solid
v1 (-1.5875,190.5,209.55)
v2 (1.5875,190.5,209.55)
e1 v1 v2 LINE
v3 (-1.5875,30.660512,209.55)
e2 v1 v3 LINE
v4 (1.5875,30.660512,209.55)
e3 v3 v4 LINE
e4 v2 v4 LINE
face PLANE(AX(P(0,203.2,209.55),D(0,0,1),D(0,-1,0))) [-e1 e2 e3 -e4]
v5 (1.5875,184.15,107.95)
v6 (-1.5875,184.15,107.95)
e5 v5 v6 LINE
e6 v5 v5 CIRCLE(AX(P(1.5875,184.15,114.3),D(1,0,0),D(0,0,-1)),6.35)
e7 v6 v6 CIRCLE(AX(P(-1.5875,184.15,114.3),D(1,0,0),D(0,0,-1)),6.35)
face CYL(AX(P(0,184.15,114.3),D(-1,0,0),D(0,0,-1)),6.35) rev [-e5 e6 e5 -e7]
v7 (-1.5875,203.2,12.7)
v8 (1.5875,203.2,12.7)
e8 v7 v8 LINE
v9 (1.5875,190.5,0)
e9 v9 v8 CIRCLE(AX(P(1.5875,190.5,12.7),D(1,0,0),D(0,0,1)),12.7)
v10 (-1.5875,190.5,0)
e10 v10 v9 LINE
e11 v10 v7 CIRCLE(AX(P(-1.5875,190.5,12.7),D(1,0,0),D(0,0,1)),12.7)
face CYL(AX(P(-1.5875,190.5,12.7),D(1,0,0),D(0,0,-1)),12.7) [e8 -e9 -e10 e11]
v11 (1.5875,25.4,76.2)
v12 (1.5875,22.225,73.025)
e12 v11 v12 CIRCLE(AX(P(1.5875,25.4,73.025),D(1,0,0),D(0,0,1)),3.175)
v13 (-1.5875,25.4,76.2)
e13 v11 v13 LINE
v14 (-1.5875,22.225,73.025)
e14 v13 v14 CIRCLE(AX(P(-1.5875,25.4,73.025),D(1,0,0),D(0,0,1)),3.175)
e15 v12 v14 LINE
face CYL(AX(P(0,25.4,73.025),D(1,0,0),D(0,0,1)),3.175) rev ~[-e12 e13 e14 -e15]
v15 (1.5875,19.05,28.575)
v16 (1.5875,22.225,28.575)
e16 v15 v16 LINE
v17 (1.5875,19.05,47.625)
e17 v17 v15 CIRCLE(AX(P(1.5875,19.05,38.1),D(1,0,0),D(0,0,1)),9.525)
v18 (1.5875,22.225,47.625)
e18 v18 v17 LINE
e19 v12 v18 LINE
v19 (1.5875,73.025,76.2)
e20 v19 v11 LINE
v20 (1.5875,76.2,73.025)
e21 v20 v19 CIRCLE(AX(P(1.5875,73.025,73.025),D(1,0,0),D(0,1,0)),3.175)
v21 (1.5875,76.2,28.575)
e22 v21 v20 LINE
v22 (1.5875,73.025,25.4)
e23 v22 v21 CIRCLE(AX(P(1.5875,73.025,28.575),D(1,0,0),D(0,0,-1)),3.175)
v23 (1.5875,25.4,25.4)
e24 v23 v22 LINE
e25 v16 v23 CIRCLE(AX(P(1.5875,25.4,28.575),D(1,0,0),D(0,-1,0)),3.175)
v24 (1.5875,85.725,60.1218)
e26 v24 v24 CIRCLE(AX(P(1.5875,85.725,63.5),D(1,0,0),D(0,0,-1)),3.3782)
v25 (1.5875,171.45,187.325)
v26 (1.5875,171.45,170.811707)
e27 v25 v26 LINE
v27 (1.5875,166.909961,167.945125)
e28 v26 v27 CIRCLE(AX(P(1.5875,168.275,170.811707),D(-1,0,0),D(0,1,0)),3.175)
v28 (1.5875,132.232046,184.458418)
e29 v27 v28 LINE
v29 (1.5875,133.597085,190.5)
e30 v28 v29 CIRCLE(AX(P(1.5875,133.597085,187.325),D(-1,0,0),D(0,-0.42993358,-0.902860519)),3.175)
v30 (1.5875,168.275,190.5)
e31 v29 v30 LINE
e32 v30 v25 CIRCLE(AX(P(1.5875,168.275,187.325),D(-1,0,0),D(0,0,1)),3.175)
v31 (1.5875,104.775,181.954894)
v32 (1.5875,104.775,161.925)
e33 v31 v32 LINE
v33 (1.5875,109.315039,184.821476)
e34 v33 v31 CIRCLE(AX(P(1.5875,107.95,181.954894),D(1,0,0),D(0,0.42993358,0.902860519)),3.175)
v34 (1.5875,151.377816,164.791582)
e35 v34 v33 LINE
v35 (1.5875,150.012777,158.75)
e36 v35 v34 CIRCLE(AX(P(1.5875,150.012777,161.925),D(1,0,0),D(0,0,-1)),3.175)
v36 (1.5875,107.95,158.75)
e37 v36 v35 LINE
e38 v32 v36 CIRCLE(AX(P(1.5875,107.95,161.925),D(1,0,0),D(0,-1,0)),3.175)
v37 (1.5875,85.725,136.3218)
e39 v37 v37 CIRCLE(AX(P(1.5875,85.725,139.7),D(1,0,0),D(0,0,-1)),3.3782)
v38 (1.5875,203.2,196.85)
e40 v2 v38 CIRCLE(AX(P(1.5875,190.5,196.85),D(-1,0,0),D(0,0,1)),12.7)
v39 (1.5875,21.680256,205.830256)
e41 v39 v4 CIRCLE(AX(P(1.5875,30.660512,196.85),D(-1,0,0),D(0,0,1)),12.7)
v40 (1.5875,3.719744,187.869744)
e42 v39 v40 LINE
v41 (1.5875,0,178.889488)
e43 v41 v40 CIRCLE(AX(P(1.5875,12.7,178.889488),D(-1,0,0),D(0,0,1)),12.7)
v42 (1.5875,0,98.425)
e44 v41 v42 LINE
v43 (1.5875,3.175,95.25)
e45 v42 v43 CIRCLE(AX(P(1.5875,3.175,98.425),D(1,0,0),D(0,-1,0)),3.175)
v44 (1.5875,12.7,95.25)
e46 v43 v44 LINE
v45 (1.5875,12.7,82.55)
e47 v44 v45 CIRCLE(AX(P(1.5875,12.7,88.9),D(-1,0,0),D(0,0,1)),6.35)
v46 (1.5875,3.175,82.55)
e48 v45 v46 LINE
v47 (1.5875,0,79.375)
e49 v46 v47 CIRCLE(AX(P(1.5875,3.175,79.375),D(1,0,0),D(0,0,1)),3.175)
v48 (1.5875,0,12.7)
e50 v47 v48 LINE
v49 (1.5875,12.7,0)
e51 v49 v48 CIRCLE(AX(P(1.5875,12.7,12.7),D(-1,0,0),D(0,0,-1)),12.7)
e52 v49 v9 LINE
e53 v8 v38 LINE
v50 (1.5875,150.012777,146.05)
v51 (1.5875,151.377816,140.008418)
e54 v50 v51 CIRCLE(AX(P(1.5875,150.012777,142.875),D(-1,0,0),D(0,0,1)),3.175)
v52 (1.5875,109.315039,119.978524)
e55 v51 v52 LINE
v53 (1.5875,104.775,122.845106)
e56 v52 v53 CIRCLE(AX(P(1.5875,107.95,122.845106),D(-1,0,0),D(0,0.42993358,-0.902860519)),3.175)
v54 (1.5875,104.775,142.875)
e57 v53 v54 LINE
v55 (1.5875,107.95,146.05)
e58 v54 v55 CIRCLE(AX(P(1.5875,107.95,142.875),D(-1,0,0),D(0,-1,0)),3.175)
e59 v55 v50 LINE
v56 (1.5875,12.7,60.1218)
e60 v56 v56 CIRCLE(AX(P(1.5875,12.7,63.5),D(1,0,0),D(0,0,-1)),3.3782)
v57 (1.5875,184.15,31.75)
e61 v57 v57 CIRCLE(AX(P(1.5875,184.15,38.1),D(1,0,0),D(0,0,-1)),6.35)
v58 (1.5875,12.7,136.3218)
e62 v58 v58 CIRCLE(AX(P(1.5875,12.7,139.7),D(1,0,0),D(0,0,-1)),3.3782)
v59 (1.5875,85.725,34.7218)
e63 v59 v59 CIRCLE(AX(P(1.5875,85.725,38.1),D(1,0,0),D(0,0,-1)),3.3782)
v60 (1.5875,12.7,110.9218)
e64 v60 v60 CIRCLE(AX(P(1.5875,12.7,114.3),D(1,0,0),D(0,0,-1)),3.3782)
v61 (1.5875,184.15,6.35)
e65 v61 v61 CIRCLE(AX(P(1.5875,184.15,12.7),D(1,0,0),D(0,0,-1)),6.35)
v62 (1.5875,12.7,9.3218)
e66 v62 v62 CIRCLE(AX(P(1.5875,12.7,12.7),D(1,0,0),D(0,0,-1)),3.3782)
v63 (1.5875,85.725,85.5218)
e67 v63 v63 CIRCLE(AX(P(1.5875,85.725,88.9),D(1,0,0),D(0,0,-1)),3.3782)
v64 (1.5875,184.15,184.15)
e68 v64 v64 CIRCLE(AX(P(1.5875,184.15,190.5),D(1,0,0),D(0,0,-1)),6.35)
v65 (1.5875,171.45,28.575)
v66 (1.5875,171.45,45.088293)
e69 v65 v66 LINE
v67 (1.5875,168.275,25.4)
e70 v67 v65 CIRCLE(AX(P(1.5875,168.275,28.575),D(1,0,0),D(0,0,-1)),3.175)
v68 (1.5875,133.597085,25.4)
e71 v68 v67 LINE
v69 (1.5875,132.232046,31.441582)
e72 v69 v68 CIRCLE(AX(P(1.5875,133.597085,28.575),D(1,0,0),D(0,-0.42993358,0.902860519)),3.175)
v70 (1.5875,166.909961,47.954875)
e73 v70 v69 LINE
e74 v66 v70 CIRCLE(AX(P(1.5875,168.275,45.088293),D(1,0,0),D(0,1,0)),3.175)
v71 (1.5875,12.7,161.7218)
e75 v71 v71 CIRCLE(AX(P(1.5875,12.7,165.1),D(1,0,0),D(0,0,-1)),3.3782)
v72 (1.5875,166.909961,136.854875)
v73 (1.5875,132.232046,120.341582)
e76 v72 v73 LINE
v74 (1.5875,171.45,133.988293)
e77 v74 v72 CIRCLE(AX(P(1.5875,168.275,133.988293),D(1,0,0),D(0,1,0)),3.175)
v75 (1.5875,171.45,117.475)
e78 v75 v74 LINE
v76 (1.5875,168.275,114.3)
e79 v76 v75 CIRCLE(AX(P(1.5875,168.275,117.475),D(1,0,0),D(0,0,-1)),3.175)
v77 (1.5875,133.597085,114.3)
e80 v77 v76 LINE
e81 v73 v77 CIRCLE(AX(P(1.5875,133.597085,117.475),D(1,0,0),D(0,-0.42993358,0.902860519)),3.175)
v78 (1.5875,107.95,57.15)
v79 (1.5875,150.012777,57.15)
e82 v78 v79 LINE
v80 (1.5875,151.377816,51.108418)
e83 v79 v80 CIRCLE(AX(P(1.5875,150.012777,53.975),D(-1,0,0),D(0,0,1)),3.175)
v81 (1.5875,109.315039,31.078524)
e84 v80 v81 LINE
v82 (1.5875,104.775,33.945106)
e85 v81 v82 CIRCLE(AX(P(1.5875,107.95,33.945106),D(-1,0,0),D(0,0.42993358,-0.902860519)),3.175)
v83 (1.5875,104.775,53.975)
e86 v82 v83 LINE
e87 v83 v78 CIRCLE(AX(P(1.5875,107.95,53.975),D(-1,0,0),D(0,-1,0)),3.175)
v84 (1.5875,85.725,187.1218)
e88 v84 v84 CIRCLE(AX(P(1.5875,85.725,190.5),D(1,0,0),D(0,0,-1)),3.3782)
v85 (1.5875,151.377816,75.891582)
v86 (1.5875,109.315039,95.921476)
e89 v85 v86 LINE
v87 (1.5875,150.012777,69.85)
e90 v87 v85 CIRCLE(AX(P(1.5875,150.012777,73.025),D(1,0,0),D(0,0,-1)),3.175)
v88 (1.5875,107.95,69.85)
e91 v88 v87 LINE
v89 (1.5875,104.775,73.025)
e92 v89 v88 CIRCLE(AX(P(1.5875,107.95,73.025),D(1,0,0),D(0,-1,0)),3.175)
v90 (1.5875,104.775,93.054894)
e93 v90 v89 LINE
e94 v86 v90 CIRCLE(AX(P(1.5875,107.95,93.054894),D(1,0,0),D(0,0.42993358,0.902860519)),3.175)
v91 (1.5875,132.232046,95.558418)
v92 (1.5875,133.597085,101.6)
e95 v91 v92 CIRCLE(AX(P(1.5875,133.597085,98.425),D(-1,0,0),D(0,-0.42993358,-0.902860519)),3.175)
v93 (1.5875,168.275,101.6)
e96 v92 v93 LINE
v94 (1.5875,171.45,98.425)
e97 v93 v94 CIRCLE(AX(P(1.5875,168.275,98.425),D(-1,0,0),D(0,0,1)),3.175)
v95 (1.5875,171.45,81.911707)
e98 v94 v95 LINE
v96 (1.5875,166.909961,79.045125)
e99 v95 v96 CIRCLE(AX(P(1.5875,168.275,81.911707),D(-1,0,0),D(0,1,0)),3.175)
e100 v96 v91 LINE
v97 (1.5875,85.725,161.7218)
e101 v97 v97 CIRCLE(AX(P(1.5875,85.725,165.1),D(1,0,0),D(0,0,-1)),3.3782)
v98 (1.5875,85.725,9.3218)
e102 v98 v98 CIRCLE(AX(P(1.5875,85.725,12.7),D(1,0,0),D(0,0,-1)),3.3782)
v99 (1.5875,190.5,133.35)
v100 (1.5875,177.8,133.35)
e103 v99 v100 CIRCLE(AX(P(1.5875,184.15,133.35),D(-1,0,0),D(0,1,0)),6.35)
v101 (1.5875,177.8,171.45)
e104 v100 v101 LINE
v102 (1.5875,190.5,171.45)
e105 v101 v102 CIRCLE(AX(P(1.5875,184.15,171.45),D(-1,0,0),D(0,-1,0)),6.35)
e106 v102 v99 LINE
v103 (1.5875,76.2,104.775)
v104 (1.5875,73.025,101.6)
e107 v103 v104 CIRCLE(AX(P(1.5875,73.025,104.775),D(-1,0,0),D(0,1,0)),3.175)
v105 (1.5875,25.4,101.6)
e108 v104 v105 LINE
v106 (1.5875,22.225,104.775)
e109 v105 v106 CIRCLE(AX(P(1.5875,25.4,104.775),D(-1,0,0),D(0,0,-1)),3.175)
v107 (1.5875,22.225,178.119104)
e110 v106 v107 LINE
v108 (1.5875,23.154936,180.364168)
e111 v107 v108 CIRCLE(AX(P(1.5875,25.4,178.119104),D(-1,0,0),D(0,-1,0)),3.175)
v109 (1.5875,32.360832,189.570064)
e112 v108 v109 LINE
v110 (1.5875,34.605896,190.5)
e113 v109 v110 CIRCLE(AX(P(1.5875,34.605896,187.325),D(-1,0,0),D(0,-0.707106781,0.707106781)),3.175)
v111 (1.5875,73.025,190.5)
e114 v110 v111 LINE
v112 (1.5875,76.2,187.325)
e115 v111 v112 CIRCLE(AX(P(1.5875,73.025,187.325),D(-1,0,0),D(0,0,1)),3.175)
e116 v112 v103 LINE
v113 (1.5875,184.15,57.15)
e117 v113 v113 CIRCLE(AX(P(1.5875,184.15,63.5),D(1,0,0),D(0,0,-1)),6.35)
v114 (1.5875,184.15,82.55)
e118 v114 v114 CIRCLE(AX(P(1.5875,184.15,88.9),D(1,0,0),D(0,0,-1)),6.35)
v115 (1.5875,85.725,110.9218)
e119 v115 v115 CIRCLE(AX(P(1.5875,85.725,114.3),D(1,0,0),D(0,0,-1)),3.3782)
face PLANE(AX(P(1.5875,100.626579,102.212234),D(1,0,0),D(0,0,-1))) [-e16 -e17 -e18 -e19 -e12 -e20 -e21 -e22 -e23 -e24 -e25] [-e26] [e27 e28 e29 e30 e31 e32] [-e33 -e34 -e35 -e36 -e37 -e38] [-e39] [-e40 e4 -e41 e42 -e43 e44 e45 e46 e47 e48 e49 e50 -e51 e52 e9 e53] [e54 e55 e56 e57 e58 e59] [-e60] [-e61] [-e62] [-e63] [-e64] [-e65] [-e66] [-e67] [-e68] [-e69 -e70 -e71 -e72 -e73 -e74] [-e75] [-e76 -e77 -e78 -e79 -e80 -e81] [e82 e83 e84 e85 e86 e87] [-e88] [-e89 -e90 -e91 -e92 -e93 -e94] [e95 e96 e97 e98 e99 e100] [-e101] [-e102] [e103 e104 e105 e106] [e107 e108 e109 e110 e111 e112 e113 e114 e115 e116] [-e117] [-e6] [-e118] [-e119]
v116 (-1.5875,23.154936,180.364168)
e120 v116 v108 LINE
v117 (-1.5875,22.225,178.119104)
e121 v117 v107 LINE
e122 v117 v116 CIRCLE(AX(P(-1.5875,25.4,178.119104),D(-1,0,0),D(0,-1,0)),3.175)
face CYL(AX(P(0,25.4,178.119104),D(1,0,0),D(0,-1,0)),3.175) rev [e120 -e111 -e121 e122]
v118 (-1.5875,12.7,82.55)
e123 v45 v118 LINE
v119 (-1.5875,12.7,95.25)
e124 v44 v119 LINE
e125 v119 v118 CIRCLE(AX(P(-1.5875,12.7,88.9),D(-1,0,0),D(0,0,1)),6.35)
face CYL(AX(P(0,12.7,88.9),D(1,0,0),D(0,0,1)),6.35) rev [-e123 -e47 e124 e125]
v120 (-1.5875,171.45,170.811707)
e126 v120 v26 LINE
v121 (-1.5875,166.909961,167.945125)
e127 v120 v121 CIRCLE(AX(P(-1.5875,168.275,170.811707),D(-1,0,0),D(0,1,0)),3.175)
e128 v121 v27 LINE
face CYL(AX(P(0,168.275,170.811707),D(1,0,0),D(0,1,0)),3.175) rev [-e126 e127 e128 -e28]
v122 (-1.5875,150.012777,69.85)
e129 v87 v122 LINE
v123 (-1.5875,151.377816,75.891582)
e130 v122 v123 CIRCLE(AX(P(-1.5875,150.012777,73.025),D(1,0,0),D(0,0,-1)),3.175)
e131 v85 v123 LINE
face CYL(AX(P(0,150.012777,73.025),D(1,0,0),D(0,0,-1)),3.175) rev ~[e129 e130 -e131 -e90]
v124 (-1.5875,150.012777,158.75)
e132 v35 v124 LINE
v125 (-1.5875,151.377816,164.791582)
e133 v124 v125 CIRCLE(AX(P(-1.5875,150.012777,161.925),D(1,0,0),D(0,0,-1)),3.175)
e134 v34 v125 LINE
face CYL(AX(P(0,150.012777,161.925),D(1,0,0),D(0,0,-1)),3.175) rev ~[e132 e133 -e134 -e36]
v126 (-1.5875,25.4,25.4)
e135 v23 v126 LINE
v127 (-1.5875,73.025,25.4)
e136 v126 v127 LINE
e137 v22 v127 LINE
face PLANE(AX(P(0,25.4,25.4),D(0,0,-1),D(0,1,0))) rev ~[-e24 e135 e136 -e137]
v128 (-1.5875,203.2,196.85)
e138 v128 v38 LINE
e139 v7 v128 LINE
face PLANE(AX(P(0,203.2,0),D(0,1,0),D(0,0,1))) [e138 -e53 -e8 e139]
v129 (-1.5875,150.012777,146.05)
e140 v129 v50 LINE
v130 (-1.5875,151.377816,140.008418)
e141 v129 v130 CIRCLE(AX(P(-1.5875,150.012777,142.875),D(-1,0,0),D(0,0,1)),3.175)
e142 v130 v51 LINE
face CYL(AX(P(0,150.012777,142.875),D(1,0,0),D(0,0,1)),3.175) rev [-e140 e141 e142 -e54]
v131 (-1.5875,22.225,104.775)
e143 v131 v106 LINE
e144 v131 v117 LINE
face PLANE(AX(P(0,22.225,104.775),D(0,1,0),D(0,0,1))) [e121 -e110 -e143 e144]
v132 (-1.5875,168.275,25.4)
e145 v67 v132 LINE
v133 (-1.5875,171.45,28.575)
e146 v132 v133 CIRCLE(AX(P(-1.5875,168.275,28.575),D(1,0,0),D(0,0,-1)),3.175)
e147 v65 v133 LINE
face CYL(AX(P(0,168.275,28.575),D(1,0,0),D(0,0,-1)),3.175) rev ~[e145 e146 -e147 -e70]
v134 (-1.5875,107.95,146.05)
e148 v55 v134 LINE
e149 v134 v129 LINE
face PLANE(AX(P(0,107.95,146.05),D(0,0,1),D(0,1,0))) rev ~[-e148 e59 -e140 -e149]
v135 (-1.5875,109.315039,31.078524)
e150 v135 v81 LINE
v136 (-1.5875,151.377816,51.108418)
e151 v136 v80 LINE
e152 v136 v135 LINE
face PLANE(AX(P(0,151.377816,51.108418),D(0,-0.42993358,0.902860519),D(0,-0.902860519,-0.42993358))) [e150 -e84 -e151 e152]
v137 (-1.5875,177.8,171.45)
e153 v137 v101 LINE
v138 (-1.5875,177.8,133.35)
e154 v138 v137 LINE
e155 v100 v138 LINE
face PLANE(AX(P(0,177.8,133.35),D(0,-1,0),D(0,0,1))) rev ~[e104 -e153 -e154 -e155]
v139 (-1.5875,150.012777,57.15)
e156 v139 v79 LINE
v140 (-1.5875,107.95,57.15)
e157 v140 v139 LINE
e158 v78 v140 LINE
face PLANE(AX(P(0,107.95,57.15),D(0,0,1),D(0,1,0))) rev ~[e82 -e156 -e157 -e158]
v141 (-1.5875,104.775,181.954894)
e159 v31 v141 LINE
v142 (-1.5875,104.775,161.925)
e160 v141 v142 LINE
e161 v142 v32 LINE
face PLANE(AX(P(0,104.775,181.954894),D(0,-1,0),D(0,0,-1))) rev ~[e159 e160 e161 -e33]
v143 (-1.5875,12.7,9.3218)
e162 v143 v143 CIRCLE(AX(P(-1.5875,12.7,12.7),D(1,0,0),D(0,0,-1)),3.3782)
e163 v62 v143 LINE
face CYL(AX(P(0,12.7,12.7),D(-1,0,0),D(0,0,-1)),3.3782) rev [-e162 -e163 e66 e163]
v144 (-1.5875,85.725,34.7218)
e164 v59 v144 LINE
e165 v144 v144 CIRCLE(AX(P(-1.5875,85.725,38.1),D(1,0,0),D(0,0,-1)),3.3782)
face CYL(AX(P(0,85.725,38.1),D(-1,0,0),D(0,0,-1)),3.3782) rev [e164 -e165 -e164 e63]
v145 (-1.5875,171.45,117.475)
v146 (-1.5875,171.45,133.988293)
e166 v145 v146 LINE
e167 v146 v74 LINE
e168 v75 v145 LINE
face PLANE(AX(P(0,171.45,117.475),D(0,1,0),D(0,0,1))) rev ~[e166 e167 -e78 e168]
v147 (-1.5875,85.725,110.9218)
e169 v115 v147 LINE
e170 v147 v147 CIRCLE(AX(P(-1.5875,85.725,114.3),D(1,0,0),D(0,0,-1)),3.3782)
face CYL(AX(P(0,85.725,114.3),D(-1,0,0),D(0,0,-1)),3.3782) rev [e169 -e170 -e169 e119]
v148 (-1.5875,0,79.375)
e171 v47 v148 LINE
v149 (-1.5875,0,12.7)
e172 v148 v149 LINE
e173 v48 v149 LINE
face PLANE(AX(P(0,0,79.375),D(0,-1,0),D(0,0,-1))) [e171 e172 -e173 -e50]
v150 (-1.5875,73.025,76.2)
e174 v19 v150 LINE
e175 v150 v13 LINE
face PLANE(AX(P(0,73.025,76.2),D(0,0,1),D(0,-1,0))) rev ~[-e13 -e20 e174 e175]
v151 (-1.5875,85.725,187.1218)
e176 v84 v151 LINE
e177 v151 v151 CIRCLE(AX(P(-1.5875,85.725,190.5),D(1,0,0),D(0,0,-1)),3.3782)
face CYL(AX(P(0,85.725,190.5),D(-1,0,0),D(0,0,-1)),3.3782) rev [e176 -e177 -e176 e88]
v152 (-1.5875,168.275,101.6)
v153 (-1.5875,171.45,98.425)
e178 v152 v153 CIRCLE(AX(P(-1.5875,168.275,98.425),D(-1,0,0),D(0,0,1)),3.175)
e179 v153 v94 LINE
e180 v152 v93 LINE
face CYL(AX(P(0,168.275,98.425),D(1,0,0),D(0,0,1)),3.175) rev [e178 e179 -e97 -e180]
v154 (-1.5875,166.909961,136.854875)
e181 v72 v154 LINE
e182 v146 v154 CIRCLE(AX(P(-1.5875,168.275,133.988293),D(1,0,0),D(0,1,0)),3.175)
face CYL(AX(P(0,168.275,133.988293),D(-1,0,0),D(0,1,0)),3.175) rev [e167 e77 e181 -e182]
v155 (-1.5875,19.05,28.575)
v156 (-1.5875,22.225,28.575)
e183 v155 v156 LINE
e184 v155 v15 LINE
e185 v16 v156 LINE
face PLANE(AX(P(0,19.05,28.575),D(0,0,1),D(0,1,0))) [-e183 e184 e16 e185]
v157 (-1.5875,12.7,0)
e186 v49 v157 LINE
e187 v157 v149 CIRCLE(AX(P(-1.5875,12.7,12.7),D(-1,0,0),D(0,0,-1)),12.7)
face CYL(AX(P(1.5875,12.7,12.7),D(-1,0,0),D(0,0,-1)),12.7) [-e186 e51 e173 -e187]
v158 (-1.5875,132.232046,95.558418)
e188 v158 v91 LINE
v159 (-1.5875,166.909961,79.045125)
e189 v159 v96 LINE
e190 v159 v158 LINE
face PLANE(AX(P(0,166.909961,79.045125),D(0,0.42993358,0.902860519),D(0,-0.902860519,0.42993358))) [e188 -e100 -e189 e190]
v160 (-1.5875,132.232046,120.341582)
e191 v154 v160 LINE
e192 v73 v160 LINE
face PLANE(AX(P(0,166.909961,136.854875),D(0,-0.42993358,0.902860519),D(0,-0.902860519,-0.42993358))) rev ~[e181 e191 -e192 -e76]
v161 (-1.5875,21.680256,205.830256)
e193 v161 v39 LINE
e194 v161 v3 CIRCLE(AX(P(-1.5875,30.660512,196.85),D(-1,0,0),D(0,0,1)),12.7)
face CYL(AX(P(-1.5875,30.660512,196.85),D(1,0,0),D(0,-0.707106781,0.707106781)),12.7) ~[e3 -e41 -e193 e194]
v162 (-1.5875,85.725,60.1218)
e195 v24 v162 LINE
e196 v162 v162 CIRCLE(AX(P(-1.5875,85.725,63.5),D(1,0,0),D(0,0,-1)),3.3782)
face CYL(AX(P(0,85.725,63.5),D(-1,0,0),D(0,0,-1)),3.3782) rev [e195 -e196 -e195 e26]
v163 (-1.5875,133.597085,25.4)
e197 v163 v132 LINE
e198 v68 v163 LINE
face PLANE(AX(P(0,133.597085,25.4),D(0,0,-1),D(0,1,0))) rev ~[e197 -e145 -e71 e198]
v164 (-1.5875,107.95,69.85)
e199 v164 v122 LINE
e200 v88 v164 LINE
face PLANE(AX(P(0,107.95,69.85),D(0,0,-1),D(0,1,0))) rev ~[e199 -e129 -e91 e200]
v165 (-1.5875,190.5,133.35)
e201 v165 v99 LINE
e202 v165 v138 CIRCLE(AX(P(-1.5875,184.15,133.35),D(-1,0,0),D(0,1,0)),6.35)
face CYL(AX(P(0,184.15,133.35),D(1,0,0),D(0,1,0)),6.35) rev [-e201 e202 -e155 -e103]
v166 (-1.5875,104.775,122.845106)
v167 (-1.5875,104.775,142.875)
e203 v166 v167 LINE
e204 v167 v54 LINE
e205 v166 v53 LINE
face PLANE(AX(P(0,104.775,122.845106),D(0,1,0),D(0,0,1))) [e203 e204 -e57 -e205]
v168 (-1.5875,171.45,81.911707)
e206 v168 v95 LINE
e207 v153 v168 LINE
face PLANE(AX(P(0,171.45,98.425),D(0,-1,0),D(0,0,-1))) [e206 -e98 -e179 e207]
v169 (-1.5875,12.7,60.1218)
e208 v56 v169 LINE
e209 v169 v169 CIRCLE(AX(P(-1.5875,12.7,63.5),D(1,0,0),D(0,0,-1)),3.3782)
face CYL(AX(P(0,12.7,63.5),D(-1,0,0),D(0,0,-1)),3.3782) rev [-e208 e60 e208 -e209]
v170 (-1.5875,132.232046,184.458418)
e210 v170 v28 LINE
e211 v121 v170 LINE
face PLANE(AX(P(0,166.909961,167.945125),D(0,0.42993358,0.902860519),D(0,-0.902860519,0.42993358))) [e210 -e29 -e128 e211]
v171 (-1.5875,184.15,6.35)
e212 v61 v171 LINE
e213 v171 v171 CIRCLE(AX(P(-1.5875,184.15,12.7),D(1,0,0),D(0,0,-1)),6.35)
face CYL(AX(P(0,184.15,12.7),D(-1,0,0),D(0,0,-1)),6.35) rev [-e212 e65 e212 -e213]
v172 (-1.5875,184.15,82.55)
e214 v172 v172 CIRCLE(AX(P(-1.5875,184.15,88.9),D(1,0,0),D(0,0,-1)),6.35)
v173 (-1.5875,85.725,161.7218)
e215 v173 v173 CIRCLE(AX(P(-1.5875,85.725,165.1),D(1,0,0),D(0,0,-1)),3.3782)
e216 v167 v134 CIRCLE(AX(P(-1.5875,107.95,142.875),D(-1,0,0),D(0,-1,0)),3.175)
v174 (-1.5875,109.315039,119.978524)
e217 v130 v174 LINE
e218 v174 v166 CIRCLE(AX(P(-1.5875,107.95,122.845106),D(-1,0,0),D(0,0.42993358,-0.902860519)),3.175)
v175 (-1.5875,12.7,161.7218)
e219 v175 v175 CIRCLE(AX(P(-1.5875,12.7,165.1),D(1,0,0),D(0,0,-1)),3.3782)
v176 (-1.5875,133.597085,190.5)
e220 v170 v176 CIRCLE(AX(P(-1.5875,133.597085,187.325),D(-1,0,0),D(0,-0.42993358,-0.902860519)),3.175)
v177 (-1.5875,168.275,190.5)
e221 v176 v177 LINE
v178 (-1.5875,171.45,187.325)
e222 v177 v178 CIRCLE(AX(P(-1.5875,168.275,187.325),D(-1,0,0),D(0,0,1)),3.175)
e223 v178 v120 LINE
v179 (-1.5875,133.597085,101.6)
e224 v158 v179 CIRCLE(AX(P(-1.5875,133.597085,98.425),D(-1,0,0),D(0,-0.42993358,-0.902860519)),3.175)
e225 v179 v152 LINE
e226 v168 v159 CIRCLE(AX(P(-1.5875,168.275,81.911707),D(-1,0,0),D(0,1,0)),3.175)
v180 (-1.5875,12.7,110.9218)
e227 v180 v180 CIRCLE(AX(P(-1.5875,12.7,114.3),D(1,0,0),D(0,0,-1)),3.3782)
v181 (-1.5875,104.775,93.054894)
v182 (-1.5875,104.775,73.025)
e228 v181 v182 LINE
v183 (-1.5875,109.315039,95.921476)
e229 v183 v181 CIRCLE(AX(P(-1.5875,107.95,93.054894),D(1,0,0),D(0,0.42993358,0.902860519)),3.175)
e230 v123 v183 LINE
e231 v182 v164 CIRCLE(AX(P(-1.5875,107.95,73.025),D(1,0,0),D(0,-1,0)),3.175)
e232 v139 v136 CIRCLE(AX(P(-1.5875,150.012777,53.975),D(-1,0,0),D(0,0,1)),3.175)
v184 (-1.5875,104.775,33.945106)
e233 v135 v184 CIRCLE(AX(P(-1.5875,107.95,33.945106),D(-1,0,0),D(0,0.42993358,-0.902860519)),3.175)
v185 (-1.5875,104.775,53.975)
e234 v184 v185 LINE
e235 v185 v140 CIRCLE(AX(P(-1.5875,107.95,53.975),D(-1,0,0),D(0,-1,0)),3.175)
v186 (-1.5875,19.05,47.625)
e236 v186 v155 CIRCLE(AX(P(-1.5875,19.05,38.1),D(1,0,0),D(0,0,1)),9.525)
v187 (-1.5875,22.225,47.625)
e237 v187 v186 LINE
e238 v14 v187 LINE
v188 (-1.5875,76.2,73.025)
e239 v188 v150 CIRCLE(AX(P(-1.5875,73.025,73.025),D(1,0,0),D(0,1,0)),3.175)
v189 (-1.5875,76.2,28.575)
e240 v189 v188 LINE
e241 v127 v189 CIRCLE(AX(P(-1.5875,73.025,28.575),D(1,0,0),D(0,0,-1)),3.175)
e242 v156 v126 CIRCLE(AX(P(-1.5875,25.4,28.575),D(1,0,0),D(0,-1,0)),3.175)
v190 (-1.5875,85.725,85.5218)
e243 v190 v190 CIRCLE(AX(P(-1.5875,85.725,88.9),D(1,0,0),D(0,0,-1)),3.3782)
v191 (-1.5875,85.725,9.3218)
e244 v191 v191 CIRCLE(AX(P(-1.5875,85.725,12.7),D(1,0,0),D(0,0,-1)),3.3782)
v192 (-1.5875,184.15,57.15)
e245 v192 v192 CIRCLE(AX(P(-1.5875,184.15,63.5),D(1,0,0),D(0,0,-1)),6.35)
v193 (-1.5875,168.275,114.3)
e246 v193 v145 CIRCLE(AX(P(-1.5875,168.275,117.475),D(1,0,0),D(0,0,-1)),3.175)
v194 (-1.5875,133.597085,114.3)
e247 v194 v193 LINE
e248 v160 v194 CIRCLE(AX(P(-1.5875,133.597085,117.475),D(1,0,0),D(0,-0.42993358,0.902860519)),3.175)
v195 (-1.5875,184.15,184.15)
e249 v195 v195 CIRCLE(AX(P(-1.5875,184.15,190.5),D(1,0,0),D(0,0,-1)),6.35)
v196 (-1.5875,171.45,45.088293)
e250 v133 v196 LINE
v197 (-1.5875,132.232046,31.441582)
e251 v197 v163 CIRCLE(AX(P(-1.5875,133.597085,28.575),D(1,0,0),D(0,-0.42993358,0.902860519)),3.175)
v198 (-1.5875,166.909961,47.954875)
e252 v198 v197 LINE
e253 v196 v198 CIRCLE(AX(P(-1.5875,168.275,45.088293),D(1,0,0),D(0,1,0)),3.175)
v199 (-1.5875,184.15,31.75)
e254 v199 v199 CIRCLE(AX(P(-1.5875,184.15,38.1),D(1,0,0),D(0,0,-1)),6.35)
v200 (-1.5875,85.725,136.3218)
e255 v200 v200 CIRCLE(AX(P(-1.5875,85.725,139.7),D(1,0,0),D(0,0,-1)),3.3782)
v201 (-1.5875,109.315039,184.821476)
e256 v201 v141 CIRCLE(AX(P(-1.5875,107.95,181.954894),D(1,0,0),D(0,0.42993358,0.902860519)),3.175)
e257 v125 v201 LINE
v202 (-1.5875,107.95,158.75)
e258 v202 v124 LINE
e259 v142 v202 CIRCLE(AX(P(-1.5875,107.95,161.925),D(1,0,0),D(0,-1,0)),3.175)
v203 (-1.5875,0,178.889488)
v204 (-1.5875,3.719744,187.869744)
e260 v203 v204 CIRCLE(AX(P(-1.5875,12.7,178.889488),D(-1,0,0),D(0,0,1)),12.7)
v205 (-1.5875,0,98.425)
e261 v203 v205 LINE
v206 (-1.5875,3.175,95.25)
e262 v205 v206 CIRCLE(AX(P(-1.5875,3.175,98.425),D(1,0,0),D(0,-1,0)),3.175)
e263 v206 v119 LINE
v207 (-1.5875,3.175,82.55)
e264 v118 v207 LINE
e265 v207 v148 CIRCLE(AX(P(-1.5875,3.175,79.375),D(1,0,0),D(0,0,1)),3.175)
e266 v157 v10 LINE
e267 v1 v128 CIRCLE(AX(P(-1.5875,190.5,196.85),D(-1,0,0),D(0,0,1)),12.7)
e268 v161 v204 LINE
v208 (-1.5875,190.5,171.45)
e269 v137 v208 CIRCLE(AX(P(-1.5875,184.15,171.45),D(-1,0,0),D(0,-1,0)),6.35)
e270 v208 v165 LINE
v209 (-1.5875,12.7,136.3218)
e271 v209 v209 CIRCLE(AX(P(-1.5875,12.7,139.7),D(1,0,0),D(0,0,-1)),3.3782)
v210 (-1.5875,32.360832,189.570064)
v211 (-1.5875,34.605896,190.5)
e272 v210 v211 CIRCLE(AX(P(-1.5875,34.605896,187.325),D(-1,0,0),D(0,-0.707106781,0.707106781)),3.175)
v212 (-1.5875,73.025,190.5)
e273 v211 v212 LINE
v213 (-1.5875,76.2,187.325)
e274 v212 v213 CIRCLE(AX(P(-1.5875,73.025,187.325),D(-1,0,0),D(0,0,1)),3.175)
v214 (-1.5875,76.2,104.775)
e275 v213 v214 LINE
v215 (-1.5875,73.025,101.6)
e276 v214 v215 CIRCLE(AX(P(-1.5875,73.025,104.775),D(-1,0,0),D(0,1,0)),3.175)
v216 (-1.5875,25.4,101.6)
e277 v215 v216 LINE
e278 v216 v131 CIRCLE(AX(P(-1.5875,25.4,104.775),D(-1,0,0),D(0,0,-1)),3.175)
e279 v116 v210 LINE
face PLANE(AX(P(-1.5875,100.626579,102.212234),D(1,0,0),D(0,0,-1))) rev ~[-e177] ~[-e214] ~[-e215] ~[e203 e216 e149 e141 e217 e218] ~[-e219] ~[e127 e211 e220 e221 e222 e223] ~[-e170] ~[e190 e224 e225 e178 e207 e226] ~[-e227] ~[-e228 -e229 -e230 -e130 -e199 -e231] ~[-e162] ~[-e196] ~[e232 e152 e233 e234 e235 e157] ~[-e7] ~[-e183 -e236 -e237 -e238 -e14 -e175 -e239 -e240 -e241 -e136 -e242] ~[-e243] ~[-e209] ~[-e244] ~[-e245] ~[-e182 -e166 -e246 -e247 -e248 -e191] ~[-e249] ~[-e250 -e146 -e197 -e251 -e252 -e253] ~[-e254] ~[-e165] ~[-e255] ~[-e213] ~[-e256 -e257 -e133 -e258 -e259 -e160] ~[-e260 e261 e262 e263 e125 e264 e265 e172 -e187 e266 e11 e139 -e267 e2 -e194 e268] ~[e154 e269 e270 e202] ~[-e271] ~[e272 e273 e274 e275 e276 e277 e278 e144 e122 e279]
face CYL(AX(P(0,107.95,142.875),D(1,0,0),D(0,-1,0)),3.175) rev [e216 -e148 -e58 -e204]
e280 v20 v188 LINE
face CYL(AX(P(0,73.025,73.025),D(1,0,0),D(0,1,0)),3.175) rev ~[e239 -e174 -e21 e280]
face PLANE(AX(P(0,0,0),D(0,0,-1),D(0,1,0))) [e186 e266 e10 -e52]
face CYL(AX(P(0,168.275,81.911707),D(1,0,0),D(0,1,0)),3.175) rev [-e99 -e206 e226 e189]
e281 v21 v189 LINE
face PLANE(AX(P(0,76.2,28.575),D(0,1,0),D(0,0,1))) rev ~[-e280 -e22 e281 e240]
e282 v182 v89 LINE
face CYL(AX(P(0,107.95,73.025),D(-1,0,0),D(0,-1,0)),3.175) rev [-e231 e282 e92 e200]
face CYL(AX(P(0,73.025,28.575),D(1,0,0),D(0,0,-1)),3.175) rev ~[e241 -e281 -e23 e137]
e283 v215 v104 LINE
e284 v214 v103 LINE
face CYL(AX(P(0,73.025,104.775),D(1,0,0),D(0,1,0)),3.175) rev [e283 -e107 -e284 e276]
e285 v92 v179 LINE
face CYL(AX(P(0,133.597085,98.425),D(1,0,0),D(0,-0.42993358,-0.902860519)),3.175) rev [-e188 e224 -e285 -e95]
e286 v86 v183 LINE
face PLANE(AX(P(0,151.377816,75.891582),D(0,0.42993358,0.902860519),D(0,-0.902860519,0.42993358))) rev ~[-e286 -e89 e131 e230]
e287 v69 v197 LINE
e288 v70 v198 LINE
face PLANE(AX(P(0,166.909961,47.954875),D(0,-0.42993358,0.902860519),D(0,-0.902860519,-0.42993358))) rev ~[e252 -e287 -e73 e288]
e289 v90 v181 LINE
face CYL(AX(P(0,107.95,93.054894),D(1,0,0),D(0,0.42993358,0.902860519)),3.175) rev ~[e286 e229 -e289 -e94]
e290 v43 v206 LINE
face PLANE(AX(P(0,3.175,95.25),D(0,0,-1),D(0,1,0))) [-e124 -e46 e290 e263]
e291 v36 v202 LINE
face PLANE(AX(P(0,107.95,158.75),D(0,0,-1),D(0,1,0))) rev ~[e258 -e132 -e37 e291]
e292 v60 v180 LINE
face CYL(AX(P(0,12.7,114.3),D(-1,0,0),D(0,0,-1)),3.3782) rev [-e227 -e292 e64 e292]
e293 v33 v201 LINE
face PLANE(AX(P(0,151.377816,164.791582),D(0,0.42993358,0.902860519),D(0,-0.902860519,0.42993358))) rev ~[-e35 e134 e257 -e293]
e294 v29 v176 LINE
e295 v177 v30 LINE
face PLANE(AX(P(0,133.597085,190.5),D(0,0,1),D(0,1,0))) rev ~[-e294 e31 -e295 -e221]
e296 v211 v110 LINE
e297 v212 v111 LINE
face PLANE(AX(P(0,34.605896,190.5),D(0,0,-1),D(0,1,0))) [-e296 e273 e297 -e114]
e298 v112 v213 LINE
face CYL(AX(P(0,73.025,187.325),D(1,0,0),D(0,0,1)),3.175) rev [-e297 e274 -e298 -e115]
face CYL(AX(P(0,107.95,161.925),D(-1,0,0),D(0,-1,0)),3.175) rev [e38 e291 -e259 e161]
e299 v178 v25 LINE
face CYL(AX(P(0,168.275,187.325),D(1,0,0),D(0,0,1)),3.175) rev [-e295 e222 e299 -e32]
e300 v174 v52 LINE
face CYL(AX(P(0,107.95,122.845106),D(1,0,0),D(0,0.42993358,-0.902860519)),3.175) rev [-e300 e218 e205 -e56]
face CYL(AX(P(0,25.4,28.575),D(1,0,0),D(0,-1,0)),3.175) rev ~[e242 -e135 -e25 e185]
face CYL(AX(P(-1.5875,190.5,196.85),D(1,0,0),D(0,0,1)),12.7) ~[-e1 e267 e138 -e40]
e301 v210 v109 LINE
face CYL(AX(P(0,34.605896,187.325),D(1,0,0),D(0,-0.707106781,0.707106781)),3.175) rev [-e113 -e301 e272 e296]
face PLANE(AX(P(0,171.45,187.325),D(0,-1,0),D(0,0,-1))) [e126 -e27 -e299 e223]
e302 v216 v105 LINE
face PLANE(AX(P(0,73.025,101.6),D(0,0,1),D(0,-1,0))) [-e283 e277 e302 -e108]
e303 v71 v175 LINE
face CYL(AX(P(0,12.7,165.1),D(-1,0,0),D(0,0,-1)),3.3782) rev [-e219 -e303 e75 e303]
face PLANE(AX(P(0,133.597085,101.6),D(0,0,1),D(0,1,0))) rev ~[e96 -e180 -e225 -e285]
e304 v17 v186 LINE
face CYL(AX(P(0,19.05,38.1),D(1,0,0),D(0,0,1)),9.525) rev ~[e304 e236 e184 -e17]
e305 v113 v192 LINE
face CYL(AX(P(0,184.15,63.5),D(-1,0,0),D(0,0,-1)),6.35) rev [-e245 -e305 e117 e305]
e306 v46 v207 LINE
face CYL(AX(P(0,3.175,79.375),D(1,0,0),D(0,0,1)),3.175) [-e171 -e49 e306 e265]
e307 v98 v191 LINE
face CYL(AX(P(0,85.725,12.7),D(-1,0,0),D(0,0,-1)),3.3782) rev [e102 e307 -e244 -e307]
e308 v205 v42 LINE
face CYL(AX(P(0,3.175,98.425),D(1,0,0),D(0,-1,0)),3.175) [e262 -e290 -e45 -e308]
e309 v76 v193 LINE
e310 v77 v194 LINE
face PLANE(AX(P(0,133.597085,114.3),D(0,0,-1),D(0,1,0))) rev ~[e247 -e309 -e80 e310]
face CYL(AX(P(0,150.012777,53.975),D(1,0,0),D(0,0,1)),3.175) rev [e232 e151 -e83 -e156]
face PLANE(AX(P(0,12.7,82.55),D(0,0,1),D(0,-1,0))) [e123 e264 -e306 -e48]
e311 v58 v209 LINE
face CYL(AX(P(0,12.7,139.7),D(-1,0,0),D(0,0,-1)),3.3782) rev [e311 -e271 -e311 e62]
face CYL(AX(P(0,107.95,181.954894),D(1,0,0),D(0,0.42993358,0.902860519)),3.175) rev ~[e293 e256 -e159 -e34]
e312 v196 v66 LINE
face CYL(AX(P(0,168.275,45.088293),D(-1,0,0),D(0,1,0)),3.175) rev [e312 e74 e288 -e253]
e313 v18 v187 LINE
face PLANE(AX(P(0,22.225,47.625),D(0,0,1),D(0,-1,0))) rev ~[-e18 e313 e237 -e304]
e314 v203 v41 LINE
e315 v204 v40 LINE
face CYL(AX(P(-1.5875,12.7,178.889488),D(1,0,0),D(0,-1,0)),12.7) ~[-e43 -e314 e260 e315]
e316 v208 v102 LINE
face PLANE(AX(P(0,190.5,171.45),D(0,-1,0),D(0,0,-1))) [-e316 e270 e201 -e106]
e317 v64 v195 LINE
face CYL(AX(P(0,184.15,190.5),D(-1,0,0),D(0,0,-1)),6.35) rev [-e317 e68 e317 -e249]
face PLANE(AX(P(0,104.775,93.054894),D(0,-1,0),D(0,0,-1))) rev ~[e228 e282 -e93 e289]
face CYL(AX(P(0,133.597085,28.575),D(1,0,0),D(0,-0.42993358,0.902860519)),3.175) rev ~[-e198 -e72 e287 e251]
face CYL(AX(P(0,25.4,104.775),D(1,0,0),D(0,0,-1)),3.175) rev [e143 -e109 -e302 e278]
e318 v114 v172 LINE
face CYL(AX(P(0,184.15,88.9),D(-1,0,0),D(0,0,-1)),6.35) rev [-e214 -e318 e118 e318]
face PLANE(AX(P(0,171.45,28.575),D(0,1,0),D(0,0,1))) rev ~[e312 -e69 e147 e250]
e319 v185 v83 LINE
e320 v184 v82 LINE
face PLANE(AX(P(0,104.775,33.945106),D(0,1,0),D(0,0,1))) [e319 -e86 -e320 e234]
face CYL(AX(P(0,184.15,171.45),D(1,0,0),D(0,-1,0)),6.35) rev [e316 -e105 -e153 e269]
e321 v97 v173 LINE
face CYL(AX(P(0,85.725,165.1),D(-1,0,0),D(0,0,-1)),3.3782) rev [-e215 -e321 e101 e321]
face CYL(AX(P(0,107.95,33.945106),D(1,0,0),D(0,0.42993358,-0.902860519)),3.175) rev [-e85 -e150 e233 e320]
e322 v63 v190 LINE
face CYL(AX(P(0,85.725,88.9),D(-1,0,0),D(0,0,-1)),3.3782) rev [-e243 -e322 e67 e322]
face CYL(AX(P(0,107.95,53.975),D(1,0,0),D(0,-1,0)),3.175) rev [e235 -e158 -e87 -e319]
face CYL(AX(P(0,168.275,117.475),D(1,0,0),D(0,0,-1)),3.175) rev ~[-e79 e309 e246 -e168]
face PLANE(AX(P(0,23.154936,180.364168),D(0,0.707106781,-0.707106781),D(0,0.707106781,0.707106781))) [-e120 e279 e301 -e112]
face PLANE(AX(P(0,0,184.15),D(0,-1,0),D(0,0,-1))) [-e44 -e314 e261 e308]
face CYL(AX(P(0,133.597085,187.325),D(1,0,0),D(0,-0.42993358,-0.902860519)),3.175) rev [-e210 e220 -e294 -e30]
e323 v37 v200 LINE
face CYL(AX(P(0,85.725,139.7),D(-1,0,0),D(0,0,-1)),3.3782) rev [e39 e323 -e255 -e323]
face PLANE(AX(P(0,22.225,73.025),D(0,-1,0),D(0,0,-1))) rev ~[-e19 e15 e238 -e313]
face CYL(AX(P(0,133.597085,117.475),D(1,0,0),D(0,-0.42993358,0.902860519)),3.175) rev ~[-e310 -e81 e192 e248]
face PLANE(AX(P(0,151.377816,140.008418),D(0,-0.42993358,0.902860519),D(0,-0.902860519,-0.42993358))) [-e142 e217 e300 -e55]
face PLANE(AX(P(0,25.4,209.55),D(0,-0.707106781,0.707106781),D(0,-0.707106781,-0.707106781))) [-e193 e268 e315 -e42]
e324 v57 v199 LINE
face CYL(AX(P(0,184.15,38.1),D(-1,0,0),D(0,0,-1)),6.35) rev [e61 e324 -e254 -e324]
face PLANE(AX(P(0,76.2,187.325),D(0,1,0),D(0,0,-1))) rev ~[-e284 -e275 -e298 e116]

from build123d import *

# Parameters (mm, degrees)
SKETCH1_R           = 3.3782
SKETCH1_R_2         = 6.35
BOSS_EXTRUDE1_DEPTH = 1.5875
FILLET1_R           = 12.7


with BuildPart() as part:
    # Sketch1 → Boss-Extrude1 (new, symmetric)
    with BuildSketch(Plane(origin=(0, 0, 0), x_dir=(0, 0, -1), z_dir=(1, 0, 0))):
        with BuildLine():
            Line((0, 0), (0, 203.2))
            Line((0, 203.2), (-209.55, 203.2))
            Line((-209.55, 203.2), (-209.55, 25.4))
            Line((-209.55, 25.4), (-184.15, 0))
            Line((-184.15, 0), (-98.425, 0))
            ThreePointArc((-98.425, 0), (-96.17993597, 0.92993597), (-95.25, 3.175))
            Line((-95.25, 3.175), (-95.25, 12.7))
            ThreePointArc((-95.25, 12.7), (-88.9, 19.05), (-82.55, 12.7))
            Line((-82.55, 12.7), (-82.55, 3.175))
            ThreePointArc((-82.55, 3.175), (-81.62006403, 0.92993597), (-79.375, 0))
            Line((-79.375, 0), (0, 0))
        make_face()
        with Locations((-12.7, 12.7)):
            Circle(SKETCH1_R, mode=Mode.SUBTRACT)
        with Locations((-63.5, 12.7)):
            Circle(SKETCH1_R, mode=Mode.SUBTRACT)
        with Locations((-114.3, 12.7)):
            Circle(SKETCH1_R, mode=Mode.SUBTRACT)
        with Locations((-12.7, 85.725)):
            Circle(SKETCH1_R, mode=Mode.SUBTRACT)
        with Locations((-38.1, 85.725)):
            Circle(SKETCH1_R, mode=Mode.SUBTRACT)
        with Locations((-63.5, 85.725)):
            Circle(SKETCH1_R, mode=Mode.SUBTRACT)
        with Locations((-88.9, 85.725)):
            Circle(SKETCH1_R, mode=Mode.SUBTRACT)
        with Locations((-12.7, 184.15)):
            Circle(SKETCH1_R_2, mode=Mode.SUBTRACT)
        with Locations((-38.1, 184.15)):
            Circle(SKETCH1_R_2, mode=Mode.SUBTRACT)
        with Locations((-63.5, 184.15)):
            Circle(SKETCH1_R_2, mode=Mode.SUBTRACT)
        with Locations((-88.9, 184.15)):
            Circle(SKETCH1_R_2, mode=Mode.SUBTRACT)
        with Locations((-114.3, 184.15)):
            Circle(SKETCH1_R_2, mode=Mode.SUBTRACT)
        with Locations((-190.5, 184.15)):
            Circle(SKETCH1_R_2, mode=Mode.SUBTRACT)
        with Locations((-139.7, 12.7)):
            Circle(SKETCH1_R, mode=Mode.SUBTRACT)
        with Locations((-165.1, 12.7)):
            Circle(SKETCH1_R, mode=Mode.SUBTRACT)
        with Locations((-114.3, 85.725)):
            Circle(SKETCH1_R, mode=Mode.SUBTRACT)
        with Locations((-139.7, 85.725)):
            Circle(SKETCH1_R, mode=Mode.SUBTRACT)
        with Locations((-165.1, 85.725)):
            Circle(SKETCH1_R, mode=Mode.SUBTRACT)
        with Locations((-190.5, 85.725)):
            Circle(SKETCH1_R, mode=Mode.SUBTRACT)
        with BuildLine():
            Line((-76.2, 73.025), (-76.2, 25.4))
            ThreePointArc((-76.2, 25.4), (-75.27006403, 23.15493597), (-73.025, 22.225))
            Line((-73.025, 22.225), (-47.625, 22.225))
            Line((-47.625, 22.225), (-47.625, 19.05))
            ThreePointArc((-47.625, 19.05), (-38.1, 9.525), (-28.575, 19.05))
            Line((-28.575, 19.05), (-28.575, 22.225))
            ThreePointArc((-28.575, 22.225), (-26.32993597, 23.15493597), (-25.4, 25.4))
            Line((-25.4, 25.4), (-25.4, 73.025))
            ThreePointArc((-25.4, 73.025), (-26.32993597, 75.27006403), (-28.575, 76.2))
            Line((-28.575, 76.2), (-73.025, 76.2))
            ThreePointArc((-73.025, 76.2), (-75.27006403, 75.27006403), (-76.2, 73.025))
        make_face(mode=Mode.SUBTRACT)
        with BuildLine():
            Line((-33.945106311, 104.775), (-53.975, 104.775))
            ThreePointArc((-53.975, 104.775), (-56.22006403, 105.70493597), (-57.15, 107.95))
            Line((-57.15, 107.95), (-57.15, 150.012776746))
            ThreePointArc((-57.15, 150.012776746), (-54.674723761, 153.109712596), (-51.108417853, 151.377815864))
            Line((-51.108417853, 151.377815864), (-31.078524164, 109.315039118))
            ThreePointArc((-31.078524164, 109.315039118), (-31.260462555, 106.254915076), (-33.945106311, 104.775))
        make_face(mode=Mode.SUBTRACT)
        with BuildLine():
            Line((-25.4, 133.597084881), (-25.4, 168.275))
            ThreePointArc((-25.4, 168.275), (-26.32993597, 170.52006403), (-28.575, 171.45))
            Line((-28.575, 171.45), (-45.088292914, 171.45))
            ThreePointArc((-45.088292914, 171.45), (-47.77293667, 169.970084924), (-47.954875061, 166.909960882))
            Line((-47.954875061, 166.909960882), (-31.441582147, 132.232045763))
            ThreePointArc((-31.441582147, 132.232045763), (-27.875276239, 130.500149031), (-25.4, 133.597084881))
        make_face(mode=Mode.SUBTRACT)
        with BuildLine():
            Line((-180.364167607, 23.15493597), (-189.57006403, 32.360832393))
            ThreePointArc((-189.57006403, 32.360832393), (-190.258317516, 33.390876526), (-190.5, 34.605896424))
            Line((-190.5, 34.605896424), (-190.5, 73.025))
            ThreePointArc((-190.5, 73.025), (-189.57006403, 75.27006403), (-187.325, 76.2))
            Line((-187.325, 76.2), (-104.775, 76.2))
            ThreePointArc((-104.775, 76.2), (-102.52993597, 75.27006403), (-101.6, 73.025))
            Line((-101.6, 73.025), (-101.6, 25.4))
            ThreePointArc((-101.6, 25.4), (-102.52993597, 23.15493597), (-104.775, 22.225))
            Line((-104.775, 22.225), (-178.119103576, 22.225))
            ThreePointArc((-178.119103576, 22.225), (-179.334123474, 22.466682484), (-180.364167607, 23.15493597))
        make_face(mode=Mode.SUBTRACT)
        with BuildLine():
            Line((-79.045124939, 166.909960882), (-95.558417853, 132.232045763))
            ThreePointArc((-95.558417853, 132.232045763), (-99.124723761, 130.500149031), (-101.6, 133.597084881))
            Line((-101.6, 133.597084881), (-101.6, 168.275))
            ThreePointArc((-101.6, 168.275), (-100.67006403, 170.52006403), (-98.425, 171.45))
            Line((-98.425, 171.45), (-81.911707086, 171.45))
            ThreePointArc((-81.911707086, 171.45), (-79.22706333, 169.970084924), (-79.045124939, 166.909960882))
        make_face(mode=Mode.SUBTRACT)
        with BuildLine():
            Line((-75.891582147, 151.377815864), (-95.921475836, 109.315039118))
            ThreePointArc((-95.921475836, 109.315039118), (-95.739537445, 106.254915076), (-93.054893689, 104.775))
            Line((-93.054893689, 104.775), (-73.025, 104.775))
            ThreePointArc((-73.025, 104.775), (-70.77993597, 105.70493597), (-69.85, 107.95))
            Line((-69.85, 107.95), (-69.85, 150.012776746))
            ThreePointArc((-69.85, 150.012776746), (-72.325276239, 153.109712596), (-75.891582147, 151.377815864))
        make_face(mode=Mode.SUBTRACT)
        with BuildLine():
            Line((-122.845106311, 104.775), (-142.875, 104.775))
            ThreePointArc((-142.875, 104.775), (-145.12006403, 105.70493597), (-146.05, 107.95))
            Line((-146.05, 107.95), (-146.05, 150.012776746))
            ThreePointArc((-146.05, 150.012776746), (-143.574723761, 153.109712596), (-140.008417853, 151.377815864))
            Line((-140.008417853, 151.377815864), (-119.978524164, 109.315039118))
            ThreePointArc((-119.978524164, 109.315039118), (-120.160462555, 106.254915076), (-122.845106311, 104.775))
        make_face(mode=Mode.SUBTRACT)
        with BuildLine():
            Line((-114.3, 133.597084881), (-114.3, 168.275))
            ThreePointArc((-114.3, 168.275), (-115.22993597, 170.52006403), (-117.475, 171.45))
            Line((-117.475, 171.45), (-133.988292914, 171.45))
            ThreePointArc((-133.988292914, 171.45), (-136.67293667, 169.970084924), (-136.854875061, 166.909960882))
            Line((-136.854875061, 166.909960882), (-120.341582147, 132.232045763))
            ThreePointArc((-120.341582147, 132.232045763), (-116.775276239, 130.500149031), (-114.3, 133.597084881))
        make_face(mode=Mode.SUBTRACT)
        with BuildLine():
            Line((-167.945124939, 166.909960882), (-184.458417853, 132.232045763))
            ThreePointArc((-184.458417853, 132.232045763), (-188.024723761, 130.500149031), (-190.5, 133.597084881))
            Line((-190.5, 133.597084881), (-190.5, 168.275))
            ThreePointArc((-190.5, 168.275), (-189.57006403, 170.52006403), (-187.325, 171.45))
            Line((-187.325, 171.45), (-170.811707086, 171.45))
            ThreePointArc((-170.811707086, 171.45), (-168.12706333, 169.970084924), (-167.945124939, 166.909960882))
        make_face(mode=Mode.SUBTRACT)
        with BuildLine():
            Line((-164.791582147, 151.377815864), (-184.821475836, 109.315039118))
            ThreePointArc((-184.821475836, 109.315039118), (-184.639537445, 106.254915076), (-181.954893689, 104.775))
            Line((-181.954893689, 104.775), (-161.925, 104.775))
            ThreePointArc((-161.925, 104.775), (-159.67993597, 105.70493597), (-158.75, 107.95))
            Line((-158.75, 107.95), (-158.75, 150.012776746))
            ThreePointArc((-158.75, 150.012776746), (-161.225276239, 153.109712596), (-164.791582147, 151.377815864))
        make_face(mode=Mode.SUBTRACT)
        with BuildLine():
            Line((-133.35, 177.8), (-171.45, 177.8))
            ThreePointArc((-171.45, 177.8), (-177.8, 184.15), (-171.45, 190.5))
            Line((-171.45, 190.5), (-133.35, 190.5))
            ThreePointArc((-133.35, 190.5), (-127, 184.15), (-133.35, 177.8))
        make_face(mode=Mode.SUBTRACT)
    extrude(amount=BOSS_EXTRUDE1_DEPTH, both=True)

    # Fillet1
    fillet1_edges = [part.edges().sort_by_distance(p)[0] for p in [
        (0, 0, 184.15),
        (0, 25.4, 209.55),
        (0, 203.2, 209.55),
        (0, 203.2, 0),
        (0, 0, 0),
    ]]
    fillet(fillet1_edges, radius=FILLET1_R)


solid = part.part
